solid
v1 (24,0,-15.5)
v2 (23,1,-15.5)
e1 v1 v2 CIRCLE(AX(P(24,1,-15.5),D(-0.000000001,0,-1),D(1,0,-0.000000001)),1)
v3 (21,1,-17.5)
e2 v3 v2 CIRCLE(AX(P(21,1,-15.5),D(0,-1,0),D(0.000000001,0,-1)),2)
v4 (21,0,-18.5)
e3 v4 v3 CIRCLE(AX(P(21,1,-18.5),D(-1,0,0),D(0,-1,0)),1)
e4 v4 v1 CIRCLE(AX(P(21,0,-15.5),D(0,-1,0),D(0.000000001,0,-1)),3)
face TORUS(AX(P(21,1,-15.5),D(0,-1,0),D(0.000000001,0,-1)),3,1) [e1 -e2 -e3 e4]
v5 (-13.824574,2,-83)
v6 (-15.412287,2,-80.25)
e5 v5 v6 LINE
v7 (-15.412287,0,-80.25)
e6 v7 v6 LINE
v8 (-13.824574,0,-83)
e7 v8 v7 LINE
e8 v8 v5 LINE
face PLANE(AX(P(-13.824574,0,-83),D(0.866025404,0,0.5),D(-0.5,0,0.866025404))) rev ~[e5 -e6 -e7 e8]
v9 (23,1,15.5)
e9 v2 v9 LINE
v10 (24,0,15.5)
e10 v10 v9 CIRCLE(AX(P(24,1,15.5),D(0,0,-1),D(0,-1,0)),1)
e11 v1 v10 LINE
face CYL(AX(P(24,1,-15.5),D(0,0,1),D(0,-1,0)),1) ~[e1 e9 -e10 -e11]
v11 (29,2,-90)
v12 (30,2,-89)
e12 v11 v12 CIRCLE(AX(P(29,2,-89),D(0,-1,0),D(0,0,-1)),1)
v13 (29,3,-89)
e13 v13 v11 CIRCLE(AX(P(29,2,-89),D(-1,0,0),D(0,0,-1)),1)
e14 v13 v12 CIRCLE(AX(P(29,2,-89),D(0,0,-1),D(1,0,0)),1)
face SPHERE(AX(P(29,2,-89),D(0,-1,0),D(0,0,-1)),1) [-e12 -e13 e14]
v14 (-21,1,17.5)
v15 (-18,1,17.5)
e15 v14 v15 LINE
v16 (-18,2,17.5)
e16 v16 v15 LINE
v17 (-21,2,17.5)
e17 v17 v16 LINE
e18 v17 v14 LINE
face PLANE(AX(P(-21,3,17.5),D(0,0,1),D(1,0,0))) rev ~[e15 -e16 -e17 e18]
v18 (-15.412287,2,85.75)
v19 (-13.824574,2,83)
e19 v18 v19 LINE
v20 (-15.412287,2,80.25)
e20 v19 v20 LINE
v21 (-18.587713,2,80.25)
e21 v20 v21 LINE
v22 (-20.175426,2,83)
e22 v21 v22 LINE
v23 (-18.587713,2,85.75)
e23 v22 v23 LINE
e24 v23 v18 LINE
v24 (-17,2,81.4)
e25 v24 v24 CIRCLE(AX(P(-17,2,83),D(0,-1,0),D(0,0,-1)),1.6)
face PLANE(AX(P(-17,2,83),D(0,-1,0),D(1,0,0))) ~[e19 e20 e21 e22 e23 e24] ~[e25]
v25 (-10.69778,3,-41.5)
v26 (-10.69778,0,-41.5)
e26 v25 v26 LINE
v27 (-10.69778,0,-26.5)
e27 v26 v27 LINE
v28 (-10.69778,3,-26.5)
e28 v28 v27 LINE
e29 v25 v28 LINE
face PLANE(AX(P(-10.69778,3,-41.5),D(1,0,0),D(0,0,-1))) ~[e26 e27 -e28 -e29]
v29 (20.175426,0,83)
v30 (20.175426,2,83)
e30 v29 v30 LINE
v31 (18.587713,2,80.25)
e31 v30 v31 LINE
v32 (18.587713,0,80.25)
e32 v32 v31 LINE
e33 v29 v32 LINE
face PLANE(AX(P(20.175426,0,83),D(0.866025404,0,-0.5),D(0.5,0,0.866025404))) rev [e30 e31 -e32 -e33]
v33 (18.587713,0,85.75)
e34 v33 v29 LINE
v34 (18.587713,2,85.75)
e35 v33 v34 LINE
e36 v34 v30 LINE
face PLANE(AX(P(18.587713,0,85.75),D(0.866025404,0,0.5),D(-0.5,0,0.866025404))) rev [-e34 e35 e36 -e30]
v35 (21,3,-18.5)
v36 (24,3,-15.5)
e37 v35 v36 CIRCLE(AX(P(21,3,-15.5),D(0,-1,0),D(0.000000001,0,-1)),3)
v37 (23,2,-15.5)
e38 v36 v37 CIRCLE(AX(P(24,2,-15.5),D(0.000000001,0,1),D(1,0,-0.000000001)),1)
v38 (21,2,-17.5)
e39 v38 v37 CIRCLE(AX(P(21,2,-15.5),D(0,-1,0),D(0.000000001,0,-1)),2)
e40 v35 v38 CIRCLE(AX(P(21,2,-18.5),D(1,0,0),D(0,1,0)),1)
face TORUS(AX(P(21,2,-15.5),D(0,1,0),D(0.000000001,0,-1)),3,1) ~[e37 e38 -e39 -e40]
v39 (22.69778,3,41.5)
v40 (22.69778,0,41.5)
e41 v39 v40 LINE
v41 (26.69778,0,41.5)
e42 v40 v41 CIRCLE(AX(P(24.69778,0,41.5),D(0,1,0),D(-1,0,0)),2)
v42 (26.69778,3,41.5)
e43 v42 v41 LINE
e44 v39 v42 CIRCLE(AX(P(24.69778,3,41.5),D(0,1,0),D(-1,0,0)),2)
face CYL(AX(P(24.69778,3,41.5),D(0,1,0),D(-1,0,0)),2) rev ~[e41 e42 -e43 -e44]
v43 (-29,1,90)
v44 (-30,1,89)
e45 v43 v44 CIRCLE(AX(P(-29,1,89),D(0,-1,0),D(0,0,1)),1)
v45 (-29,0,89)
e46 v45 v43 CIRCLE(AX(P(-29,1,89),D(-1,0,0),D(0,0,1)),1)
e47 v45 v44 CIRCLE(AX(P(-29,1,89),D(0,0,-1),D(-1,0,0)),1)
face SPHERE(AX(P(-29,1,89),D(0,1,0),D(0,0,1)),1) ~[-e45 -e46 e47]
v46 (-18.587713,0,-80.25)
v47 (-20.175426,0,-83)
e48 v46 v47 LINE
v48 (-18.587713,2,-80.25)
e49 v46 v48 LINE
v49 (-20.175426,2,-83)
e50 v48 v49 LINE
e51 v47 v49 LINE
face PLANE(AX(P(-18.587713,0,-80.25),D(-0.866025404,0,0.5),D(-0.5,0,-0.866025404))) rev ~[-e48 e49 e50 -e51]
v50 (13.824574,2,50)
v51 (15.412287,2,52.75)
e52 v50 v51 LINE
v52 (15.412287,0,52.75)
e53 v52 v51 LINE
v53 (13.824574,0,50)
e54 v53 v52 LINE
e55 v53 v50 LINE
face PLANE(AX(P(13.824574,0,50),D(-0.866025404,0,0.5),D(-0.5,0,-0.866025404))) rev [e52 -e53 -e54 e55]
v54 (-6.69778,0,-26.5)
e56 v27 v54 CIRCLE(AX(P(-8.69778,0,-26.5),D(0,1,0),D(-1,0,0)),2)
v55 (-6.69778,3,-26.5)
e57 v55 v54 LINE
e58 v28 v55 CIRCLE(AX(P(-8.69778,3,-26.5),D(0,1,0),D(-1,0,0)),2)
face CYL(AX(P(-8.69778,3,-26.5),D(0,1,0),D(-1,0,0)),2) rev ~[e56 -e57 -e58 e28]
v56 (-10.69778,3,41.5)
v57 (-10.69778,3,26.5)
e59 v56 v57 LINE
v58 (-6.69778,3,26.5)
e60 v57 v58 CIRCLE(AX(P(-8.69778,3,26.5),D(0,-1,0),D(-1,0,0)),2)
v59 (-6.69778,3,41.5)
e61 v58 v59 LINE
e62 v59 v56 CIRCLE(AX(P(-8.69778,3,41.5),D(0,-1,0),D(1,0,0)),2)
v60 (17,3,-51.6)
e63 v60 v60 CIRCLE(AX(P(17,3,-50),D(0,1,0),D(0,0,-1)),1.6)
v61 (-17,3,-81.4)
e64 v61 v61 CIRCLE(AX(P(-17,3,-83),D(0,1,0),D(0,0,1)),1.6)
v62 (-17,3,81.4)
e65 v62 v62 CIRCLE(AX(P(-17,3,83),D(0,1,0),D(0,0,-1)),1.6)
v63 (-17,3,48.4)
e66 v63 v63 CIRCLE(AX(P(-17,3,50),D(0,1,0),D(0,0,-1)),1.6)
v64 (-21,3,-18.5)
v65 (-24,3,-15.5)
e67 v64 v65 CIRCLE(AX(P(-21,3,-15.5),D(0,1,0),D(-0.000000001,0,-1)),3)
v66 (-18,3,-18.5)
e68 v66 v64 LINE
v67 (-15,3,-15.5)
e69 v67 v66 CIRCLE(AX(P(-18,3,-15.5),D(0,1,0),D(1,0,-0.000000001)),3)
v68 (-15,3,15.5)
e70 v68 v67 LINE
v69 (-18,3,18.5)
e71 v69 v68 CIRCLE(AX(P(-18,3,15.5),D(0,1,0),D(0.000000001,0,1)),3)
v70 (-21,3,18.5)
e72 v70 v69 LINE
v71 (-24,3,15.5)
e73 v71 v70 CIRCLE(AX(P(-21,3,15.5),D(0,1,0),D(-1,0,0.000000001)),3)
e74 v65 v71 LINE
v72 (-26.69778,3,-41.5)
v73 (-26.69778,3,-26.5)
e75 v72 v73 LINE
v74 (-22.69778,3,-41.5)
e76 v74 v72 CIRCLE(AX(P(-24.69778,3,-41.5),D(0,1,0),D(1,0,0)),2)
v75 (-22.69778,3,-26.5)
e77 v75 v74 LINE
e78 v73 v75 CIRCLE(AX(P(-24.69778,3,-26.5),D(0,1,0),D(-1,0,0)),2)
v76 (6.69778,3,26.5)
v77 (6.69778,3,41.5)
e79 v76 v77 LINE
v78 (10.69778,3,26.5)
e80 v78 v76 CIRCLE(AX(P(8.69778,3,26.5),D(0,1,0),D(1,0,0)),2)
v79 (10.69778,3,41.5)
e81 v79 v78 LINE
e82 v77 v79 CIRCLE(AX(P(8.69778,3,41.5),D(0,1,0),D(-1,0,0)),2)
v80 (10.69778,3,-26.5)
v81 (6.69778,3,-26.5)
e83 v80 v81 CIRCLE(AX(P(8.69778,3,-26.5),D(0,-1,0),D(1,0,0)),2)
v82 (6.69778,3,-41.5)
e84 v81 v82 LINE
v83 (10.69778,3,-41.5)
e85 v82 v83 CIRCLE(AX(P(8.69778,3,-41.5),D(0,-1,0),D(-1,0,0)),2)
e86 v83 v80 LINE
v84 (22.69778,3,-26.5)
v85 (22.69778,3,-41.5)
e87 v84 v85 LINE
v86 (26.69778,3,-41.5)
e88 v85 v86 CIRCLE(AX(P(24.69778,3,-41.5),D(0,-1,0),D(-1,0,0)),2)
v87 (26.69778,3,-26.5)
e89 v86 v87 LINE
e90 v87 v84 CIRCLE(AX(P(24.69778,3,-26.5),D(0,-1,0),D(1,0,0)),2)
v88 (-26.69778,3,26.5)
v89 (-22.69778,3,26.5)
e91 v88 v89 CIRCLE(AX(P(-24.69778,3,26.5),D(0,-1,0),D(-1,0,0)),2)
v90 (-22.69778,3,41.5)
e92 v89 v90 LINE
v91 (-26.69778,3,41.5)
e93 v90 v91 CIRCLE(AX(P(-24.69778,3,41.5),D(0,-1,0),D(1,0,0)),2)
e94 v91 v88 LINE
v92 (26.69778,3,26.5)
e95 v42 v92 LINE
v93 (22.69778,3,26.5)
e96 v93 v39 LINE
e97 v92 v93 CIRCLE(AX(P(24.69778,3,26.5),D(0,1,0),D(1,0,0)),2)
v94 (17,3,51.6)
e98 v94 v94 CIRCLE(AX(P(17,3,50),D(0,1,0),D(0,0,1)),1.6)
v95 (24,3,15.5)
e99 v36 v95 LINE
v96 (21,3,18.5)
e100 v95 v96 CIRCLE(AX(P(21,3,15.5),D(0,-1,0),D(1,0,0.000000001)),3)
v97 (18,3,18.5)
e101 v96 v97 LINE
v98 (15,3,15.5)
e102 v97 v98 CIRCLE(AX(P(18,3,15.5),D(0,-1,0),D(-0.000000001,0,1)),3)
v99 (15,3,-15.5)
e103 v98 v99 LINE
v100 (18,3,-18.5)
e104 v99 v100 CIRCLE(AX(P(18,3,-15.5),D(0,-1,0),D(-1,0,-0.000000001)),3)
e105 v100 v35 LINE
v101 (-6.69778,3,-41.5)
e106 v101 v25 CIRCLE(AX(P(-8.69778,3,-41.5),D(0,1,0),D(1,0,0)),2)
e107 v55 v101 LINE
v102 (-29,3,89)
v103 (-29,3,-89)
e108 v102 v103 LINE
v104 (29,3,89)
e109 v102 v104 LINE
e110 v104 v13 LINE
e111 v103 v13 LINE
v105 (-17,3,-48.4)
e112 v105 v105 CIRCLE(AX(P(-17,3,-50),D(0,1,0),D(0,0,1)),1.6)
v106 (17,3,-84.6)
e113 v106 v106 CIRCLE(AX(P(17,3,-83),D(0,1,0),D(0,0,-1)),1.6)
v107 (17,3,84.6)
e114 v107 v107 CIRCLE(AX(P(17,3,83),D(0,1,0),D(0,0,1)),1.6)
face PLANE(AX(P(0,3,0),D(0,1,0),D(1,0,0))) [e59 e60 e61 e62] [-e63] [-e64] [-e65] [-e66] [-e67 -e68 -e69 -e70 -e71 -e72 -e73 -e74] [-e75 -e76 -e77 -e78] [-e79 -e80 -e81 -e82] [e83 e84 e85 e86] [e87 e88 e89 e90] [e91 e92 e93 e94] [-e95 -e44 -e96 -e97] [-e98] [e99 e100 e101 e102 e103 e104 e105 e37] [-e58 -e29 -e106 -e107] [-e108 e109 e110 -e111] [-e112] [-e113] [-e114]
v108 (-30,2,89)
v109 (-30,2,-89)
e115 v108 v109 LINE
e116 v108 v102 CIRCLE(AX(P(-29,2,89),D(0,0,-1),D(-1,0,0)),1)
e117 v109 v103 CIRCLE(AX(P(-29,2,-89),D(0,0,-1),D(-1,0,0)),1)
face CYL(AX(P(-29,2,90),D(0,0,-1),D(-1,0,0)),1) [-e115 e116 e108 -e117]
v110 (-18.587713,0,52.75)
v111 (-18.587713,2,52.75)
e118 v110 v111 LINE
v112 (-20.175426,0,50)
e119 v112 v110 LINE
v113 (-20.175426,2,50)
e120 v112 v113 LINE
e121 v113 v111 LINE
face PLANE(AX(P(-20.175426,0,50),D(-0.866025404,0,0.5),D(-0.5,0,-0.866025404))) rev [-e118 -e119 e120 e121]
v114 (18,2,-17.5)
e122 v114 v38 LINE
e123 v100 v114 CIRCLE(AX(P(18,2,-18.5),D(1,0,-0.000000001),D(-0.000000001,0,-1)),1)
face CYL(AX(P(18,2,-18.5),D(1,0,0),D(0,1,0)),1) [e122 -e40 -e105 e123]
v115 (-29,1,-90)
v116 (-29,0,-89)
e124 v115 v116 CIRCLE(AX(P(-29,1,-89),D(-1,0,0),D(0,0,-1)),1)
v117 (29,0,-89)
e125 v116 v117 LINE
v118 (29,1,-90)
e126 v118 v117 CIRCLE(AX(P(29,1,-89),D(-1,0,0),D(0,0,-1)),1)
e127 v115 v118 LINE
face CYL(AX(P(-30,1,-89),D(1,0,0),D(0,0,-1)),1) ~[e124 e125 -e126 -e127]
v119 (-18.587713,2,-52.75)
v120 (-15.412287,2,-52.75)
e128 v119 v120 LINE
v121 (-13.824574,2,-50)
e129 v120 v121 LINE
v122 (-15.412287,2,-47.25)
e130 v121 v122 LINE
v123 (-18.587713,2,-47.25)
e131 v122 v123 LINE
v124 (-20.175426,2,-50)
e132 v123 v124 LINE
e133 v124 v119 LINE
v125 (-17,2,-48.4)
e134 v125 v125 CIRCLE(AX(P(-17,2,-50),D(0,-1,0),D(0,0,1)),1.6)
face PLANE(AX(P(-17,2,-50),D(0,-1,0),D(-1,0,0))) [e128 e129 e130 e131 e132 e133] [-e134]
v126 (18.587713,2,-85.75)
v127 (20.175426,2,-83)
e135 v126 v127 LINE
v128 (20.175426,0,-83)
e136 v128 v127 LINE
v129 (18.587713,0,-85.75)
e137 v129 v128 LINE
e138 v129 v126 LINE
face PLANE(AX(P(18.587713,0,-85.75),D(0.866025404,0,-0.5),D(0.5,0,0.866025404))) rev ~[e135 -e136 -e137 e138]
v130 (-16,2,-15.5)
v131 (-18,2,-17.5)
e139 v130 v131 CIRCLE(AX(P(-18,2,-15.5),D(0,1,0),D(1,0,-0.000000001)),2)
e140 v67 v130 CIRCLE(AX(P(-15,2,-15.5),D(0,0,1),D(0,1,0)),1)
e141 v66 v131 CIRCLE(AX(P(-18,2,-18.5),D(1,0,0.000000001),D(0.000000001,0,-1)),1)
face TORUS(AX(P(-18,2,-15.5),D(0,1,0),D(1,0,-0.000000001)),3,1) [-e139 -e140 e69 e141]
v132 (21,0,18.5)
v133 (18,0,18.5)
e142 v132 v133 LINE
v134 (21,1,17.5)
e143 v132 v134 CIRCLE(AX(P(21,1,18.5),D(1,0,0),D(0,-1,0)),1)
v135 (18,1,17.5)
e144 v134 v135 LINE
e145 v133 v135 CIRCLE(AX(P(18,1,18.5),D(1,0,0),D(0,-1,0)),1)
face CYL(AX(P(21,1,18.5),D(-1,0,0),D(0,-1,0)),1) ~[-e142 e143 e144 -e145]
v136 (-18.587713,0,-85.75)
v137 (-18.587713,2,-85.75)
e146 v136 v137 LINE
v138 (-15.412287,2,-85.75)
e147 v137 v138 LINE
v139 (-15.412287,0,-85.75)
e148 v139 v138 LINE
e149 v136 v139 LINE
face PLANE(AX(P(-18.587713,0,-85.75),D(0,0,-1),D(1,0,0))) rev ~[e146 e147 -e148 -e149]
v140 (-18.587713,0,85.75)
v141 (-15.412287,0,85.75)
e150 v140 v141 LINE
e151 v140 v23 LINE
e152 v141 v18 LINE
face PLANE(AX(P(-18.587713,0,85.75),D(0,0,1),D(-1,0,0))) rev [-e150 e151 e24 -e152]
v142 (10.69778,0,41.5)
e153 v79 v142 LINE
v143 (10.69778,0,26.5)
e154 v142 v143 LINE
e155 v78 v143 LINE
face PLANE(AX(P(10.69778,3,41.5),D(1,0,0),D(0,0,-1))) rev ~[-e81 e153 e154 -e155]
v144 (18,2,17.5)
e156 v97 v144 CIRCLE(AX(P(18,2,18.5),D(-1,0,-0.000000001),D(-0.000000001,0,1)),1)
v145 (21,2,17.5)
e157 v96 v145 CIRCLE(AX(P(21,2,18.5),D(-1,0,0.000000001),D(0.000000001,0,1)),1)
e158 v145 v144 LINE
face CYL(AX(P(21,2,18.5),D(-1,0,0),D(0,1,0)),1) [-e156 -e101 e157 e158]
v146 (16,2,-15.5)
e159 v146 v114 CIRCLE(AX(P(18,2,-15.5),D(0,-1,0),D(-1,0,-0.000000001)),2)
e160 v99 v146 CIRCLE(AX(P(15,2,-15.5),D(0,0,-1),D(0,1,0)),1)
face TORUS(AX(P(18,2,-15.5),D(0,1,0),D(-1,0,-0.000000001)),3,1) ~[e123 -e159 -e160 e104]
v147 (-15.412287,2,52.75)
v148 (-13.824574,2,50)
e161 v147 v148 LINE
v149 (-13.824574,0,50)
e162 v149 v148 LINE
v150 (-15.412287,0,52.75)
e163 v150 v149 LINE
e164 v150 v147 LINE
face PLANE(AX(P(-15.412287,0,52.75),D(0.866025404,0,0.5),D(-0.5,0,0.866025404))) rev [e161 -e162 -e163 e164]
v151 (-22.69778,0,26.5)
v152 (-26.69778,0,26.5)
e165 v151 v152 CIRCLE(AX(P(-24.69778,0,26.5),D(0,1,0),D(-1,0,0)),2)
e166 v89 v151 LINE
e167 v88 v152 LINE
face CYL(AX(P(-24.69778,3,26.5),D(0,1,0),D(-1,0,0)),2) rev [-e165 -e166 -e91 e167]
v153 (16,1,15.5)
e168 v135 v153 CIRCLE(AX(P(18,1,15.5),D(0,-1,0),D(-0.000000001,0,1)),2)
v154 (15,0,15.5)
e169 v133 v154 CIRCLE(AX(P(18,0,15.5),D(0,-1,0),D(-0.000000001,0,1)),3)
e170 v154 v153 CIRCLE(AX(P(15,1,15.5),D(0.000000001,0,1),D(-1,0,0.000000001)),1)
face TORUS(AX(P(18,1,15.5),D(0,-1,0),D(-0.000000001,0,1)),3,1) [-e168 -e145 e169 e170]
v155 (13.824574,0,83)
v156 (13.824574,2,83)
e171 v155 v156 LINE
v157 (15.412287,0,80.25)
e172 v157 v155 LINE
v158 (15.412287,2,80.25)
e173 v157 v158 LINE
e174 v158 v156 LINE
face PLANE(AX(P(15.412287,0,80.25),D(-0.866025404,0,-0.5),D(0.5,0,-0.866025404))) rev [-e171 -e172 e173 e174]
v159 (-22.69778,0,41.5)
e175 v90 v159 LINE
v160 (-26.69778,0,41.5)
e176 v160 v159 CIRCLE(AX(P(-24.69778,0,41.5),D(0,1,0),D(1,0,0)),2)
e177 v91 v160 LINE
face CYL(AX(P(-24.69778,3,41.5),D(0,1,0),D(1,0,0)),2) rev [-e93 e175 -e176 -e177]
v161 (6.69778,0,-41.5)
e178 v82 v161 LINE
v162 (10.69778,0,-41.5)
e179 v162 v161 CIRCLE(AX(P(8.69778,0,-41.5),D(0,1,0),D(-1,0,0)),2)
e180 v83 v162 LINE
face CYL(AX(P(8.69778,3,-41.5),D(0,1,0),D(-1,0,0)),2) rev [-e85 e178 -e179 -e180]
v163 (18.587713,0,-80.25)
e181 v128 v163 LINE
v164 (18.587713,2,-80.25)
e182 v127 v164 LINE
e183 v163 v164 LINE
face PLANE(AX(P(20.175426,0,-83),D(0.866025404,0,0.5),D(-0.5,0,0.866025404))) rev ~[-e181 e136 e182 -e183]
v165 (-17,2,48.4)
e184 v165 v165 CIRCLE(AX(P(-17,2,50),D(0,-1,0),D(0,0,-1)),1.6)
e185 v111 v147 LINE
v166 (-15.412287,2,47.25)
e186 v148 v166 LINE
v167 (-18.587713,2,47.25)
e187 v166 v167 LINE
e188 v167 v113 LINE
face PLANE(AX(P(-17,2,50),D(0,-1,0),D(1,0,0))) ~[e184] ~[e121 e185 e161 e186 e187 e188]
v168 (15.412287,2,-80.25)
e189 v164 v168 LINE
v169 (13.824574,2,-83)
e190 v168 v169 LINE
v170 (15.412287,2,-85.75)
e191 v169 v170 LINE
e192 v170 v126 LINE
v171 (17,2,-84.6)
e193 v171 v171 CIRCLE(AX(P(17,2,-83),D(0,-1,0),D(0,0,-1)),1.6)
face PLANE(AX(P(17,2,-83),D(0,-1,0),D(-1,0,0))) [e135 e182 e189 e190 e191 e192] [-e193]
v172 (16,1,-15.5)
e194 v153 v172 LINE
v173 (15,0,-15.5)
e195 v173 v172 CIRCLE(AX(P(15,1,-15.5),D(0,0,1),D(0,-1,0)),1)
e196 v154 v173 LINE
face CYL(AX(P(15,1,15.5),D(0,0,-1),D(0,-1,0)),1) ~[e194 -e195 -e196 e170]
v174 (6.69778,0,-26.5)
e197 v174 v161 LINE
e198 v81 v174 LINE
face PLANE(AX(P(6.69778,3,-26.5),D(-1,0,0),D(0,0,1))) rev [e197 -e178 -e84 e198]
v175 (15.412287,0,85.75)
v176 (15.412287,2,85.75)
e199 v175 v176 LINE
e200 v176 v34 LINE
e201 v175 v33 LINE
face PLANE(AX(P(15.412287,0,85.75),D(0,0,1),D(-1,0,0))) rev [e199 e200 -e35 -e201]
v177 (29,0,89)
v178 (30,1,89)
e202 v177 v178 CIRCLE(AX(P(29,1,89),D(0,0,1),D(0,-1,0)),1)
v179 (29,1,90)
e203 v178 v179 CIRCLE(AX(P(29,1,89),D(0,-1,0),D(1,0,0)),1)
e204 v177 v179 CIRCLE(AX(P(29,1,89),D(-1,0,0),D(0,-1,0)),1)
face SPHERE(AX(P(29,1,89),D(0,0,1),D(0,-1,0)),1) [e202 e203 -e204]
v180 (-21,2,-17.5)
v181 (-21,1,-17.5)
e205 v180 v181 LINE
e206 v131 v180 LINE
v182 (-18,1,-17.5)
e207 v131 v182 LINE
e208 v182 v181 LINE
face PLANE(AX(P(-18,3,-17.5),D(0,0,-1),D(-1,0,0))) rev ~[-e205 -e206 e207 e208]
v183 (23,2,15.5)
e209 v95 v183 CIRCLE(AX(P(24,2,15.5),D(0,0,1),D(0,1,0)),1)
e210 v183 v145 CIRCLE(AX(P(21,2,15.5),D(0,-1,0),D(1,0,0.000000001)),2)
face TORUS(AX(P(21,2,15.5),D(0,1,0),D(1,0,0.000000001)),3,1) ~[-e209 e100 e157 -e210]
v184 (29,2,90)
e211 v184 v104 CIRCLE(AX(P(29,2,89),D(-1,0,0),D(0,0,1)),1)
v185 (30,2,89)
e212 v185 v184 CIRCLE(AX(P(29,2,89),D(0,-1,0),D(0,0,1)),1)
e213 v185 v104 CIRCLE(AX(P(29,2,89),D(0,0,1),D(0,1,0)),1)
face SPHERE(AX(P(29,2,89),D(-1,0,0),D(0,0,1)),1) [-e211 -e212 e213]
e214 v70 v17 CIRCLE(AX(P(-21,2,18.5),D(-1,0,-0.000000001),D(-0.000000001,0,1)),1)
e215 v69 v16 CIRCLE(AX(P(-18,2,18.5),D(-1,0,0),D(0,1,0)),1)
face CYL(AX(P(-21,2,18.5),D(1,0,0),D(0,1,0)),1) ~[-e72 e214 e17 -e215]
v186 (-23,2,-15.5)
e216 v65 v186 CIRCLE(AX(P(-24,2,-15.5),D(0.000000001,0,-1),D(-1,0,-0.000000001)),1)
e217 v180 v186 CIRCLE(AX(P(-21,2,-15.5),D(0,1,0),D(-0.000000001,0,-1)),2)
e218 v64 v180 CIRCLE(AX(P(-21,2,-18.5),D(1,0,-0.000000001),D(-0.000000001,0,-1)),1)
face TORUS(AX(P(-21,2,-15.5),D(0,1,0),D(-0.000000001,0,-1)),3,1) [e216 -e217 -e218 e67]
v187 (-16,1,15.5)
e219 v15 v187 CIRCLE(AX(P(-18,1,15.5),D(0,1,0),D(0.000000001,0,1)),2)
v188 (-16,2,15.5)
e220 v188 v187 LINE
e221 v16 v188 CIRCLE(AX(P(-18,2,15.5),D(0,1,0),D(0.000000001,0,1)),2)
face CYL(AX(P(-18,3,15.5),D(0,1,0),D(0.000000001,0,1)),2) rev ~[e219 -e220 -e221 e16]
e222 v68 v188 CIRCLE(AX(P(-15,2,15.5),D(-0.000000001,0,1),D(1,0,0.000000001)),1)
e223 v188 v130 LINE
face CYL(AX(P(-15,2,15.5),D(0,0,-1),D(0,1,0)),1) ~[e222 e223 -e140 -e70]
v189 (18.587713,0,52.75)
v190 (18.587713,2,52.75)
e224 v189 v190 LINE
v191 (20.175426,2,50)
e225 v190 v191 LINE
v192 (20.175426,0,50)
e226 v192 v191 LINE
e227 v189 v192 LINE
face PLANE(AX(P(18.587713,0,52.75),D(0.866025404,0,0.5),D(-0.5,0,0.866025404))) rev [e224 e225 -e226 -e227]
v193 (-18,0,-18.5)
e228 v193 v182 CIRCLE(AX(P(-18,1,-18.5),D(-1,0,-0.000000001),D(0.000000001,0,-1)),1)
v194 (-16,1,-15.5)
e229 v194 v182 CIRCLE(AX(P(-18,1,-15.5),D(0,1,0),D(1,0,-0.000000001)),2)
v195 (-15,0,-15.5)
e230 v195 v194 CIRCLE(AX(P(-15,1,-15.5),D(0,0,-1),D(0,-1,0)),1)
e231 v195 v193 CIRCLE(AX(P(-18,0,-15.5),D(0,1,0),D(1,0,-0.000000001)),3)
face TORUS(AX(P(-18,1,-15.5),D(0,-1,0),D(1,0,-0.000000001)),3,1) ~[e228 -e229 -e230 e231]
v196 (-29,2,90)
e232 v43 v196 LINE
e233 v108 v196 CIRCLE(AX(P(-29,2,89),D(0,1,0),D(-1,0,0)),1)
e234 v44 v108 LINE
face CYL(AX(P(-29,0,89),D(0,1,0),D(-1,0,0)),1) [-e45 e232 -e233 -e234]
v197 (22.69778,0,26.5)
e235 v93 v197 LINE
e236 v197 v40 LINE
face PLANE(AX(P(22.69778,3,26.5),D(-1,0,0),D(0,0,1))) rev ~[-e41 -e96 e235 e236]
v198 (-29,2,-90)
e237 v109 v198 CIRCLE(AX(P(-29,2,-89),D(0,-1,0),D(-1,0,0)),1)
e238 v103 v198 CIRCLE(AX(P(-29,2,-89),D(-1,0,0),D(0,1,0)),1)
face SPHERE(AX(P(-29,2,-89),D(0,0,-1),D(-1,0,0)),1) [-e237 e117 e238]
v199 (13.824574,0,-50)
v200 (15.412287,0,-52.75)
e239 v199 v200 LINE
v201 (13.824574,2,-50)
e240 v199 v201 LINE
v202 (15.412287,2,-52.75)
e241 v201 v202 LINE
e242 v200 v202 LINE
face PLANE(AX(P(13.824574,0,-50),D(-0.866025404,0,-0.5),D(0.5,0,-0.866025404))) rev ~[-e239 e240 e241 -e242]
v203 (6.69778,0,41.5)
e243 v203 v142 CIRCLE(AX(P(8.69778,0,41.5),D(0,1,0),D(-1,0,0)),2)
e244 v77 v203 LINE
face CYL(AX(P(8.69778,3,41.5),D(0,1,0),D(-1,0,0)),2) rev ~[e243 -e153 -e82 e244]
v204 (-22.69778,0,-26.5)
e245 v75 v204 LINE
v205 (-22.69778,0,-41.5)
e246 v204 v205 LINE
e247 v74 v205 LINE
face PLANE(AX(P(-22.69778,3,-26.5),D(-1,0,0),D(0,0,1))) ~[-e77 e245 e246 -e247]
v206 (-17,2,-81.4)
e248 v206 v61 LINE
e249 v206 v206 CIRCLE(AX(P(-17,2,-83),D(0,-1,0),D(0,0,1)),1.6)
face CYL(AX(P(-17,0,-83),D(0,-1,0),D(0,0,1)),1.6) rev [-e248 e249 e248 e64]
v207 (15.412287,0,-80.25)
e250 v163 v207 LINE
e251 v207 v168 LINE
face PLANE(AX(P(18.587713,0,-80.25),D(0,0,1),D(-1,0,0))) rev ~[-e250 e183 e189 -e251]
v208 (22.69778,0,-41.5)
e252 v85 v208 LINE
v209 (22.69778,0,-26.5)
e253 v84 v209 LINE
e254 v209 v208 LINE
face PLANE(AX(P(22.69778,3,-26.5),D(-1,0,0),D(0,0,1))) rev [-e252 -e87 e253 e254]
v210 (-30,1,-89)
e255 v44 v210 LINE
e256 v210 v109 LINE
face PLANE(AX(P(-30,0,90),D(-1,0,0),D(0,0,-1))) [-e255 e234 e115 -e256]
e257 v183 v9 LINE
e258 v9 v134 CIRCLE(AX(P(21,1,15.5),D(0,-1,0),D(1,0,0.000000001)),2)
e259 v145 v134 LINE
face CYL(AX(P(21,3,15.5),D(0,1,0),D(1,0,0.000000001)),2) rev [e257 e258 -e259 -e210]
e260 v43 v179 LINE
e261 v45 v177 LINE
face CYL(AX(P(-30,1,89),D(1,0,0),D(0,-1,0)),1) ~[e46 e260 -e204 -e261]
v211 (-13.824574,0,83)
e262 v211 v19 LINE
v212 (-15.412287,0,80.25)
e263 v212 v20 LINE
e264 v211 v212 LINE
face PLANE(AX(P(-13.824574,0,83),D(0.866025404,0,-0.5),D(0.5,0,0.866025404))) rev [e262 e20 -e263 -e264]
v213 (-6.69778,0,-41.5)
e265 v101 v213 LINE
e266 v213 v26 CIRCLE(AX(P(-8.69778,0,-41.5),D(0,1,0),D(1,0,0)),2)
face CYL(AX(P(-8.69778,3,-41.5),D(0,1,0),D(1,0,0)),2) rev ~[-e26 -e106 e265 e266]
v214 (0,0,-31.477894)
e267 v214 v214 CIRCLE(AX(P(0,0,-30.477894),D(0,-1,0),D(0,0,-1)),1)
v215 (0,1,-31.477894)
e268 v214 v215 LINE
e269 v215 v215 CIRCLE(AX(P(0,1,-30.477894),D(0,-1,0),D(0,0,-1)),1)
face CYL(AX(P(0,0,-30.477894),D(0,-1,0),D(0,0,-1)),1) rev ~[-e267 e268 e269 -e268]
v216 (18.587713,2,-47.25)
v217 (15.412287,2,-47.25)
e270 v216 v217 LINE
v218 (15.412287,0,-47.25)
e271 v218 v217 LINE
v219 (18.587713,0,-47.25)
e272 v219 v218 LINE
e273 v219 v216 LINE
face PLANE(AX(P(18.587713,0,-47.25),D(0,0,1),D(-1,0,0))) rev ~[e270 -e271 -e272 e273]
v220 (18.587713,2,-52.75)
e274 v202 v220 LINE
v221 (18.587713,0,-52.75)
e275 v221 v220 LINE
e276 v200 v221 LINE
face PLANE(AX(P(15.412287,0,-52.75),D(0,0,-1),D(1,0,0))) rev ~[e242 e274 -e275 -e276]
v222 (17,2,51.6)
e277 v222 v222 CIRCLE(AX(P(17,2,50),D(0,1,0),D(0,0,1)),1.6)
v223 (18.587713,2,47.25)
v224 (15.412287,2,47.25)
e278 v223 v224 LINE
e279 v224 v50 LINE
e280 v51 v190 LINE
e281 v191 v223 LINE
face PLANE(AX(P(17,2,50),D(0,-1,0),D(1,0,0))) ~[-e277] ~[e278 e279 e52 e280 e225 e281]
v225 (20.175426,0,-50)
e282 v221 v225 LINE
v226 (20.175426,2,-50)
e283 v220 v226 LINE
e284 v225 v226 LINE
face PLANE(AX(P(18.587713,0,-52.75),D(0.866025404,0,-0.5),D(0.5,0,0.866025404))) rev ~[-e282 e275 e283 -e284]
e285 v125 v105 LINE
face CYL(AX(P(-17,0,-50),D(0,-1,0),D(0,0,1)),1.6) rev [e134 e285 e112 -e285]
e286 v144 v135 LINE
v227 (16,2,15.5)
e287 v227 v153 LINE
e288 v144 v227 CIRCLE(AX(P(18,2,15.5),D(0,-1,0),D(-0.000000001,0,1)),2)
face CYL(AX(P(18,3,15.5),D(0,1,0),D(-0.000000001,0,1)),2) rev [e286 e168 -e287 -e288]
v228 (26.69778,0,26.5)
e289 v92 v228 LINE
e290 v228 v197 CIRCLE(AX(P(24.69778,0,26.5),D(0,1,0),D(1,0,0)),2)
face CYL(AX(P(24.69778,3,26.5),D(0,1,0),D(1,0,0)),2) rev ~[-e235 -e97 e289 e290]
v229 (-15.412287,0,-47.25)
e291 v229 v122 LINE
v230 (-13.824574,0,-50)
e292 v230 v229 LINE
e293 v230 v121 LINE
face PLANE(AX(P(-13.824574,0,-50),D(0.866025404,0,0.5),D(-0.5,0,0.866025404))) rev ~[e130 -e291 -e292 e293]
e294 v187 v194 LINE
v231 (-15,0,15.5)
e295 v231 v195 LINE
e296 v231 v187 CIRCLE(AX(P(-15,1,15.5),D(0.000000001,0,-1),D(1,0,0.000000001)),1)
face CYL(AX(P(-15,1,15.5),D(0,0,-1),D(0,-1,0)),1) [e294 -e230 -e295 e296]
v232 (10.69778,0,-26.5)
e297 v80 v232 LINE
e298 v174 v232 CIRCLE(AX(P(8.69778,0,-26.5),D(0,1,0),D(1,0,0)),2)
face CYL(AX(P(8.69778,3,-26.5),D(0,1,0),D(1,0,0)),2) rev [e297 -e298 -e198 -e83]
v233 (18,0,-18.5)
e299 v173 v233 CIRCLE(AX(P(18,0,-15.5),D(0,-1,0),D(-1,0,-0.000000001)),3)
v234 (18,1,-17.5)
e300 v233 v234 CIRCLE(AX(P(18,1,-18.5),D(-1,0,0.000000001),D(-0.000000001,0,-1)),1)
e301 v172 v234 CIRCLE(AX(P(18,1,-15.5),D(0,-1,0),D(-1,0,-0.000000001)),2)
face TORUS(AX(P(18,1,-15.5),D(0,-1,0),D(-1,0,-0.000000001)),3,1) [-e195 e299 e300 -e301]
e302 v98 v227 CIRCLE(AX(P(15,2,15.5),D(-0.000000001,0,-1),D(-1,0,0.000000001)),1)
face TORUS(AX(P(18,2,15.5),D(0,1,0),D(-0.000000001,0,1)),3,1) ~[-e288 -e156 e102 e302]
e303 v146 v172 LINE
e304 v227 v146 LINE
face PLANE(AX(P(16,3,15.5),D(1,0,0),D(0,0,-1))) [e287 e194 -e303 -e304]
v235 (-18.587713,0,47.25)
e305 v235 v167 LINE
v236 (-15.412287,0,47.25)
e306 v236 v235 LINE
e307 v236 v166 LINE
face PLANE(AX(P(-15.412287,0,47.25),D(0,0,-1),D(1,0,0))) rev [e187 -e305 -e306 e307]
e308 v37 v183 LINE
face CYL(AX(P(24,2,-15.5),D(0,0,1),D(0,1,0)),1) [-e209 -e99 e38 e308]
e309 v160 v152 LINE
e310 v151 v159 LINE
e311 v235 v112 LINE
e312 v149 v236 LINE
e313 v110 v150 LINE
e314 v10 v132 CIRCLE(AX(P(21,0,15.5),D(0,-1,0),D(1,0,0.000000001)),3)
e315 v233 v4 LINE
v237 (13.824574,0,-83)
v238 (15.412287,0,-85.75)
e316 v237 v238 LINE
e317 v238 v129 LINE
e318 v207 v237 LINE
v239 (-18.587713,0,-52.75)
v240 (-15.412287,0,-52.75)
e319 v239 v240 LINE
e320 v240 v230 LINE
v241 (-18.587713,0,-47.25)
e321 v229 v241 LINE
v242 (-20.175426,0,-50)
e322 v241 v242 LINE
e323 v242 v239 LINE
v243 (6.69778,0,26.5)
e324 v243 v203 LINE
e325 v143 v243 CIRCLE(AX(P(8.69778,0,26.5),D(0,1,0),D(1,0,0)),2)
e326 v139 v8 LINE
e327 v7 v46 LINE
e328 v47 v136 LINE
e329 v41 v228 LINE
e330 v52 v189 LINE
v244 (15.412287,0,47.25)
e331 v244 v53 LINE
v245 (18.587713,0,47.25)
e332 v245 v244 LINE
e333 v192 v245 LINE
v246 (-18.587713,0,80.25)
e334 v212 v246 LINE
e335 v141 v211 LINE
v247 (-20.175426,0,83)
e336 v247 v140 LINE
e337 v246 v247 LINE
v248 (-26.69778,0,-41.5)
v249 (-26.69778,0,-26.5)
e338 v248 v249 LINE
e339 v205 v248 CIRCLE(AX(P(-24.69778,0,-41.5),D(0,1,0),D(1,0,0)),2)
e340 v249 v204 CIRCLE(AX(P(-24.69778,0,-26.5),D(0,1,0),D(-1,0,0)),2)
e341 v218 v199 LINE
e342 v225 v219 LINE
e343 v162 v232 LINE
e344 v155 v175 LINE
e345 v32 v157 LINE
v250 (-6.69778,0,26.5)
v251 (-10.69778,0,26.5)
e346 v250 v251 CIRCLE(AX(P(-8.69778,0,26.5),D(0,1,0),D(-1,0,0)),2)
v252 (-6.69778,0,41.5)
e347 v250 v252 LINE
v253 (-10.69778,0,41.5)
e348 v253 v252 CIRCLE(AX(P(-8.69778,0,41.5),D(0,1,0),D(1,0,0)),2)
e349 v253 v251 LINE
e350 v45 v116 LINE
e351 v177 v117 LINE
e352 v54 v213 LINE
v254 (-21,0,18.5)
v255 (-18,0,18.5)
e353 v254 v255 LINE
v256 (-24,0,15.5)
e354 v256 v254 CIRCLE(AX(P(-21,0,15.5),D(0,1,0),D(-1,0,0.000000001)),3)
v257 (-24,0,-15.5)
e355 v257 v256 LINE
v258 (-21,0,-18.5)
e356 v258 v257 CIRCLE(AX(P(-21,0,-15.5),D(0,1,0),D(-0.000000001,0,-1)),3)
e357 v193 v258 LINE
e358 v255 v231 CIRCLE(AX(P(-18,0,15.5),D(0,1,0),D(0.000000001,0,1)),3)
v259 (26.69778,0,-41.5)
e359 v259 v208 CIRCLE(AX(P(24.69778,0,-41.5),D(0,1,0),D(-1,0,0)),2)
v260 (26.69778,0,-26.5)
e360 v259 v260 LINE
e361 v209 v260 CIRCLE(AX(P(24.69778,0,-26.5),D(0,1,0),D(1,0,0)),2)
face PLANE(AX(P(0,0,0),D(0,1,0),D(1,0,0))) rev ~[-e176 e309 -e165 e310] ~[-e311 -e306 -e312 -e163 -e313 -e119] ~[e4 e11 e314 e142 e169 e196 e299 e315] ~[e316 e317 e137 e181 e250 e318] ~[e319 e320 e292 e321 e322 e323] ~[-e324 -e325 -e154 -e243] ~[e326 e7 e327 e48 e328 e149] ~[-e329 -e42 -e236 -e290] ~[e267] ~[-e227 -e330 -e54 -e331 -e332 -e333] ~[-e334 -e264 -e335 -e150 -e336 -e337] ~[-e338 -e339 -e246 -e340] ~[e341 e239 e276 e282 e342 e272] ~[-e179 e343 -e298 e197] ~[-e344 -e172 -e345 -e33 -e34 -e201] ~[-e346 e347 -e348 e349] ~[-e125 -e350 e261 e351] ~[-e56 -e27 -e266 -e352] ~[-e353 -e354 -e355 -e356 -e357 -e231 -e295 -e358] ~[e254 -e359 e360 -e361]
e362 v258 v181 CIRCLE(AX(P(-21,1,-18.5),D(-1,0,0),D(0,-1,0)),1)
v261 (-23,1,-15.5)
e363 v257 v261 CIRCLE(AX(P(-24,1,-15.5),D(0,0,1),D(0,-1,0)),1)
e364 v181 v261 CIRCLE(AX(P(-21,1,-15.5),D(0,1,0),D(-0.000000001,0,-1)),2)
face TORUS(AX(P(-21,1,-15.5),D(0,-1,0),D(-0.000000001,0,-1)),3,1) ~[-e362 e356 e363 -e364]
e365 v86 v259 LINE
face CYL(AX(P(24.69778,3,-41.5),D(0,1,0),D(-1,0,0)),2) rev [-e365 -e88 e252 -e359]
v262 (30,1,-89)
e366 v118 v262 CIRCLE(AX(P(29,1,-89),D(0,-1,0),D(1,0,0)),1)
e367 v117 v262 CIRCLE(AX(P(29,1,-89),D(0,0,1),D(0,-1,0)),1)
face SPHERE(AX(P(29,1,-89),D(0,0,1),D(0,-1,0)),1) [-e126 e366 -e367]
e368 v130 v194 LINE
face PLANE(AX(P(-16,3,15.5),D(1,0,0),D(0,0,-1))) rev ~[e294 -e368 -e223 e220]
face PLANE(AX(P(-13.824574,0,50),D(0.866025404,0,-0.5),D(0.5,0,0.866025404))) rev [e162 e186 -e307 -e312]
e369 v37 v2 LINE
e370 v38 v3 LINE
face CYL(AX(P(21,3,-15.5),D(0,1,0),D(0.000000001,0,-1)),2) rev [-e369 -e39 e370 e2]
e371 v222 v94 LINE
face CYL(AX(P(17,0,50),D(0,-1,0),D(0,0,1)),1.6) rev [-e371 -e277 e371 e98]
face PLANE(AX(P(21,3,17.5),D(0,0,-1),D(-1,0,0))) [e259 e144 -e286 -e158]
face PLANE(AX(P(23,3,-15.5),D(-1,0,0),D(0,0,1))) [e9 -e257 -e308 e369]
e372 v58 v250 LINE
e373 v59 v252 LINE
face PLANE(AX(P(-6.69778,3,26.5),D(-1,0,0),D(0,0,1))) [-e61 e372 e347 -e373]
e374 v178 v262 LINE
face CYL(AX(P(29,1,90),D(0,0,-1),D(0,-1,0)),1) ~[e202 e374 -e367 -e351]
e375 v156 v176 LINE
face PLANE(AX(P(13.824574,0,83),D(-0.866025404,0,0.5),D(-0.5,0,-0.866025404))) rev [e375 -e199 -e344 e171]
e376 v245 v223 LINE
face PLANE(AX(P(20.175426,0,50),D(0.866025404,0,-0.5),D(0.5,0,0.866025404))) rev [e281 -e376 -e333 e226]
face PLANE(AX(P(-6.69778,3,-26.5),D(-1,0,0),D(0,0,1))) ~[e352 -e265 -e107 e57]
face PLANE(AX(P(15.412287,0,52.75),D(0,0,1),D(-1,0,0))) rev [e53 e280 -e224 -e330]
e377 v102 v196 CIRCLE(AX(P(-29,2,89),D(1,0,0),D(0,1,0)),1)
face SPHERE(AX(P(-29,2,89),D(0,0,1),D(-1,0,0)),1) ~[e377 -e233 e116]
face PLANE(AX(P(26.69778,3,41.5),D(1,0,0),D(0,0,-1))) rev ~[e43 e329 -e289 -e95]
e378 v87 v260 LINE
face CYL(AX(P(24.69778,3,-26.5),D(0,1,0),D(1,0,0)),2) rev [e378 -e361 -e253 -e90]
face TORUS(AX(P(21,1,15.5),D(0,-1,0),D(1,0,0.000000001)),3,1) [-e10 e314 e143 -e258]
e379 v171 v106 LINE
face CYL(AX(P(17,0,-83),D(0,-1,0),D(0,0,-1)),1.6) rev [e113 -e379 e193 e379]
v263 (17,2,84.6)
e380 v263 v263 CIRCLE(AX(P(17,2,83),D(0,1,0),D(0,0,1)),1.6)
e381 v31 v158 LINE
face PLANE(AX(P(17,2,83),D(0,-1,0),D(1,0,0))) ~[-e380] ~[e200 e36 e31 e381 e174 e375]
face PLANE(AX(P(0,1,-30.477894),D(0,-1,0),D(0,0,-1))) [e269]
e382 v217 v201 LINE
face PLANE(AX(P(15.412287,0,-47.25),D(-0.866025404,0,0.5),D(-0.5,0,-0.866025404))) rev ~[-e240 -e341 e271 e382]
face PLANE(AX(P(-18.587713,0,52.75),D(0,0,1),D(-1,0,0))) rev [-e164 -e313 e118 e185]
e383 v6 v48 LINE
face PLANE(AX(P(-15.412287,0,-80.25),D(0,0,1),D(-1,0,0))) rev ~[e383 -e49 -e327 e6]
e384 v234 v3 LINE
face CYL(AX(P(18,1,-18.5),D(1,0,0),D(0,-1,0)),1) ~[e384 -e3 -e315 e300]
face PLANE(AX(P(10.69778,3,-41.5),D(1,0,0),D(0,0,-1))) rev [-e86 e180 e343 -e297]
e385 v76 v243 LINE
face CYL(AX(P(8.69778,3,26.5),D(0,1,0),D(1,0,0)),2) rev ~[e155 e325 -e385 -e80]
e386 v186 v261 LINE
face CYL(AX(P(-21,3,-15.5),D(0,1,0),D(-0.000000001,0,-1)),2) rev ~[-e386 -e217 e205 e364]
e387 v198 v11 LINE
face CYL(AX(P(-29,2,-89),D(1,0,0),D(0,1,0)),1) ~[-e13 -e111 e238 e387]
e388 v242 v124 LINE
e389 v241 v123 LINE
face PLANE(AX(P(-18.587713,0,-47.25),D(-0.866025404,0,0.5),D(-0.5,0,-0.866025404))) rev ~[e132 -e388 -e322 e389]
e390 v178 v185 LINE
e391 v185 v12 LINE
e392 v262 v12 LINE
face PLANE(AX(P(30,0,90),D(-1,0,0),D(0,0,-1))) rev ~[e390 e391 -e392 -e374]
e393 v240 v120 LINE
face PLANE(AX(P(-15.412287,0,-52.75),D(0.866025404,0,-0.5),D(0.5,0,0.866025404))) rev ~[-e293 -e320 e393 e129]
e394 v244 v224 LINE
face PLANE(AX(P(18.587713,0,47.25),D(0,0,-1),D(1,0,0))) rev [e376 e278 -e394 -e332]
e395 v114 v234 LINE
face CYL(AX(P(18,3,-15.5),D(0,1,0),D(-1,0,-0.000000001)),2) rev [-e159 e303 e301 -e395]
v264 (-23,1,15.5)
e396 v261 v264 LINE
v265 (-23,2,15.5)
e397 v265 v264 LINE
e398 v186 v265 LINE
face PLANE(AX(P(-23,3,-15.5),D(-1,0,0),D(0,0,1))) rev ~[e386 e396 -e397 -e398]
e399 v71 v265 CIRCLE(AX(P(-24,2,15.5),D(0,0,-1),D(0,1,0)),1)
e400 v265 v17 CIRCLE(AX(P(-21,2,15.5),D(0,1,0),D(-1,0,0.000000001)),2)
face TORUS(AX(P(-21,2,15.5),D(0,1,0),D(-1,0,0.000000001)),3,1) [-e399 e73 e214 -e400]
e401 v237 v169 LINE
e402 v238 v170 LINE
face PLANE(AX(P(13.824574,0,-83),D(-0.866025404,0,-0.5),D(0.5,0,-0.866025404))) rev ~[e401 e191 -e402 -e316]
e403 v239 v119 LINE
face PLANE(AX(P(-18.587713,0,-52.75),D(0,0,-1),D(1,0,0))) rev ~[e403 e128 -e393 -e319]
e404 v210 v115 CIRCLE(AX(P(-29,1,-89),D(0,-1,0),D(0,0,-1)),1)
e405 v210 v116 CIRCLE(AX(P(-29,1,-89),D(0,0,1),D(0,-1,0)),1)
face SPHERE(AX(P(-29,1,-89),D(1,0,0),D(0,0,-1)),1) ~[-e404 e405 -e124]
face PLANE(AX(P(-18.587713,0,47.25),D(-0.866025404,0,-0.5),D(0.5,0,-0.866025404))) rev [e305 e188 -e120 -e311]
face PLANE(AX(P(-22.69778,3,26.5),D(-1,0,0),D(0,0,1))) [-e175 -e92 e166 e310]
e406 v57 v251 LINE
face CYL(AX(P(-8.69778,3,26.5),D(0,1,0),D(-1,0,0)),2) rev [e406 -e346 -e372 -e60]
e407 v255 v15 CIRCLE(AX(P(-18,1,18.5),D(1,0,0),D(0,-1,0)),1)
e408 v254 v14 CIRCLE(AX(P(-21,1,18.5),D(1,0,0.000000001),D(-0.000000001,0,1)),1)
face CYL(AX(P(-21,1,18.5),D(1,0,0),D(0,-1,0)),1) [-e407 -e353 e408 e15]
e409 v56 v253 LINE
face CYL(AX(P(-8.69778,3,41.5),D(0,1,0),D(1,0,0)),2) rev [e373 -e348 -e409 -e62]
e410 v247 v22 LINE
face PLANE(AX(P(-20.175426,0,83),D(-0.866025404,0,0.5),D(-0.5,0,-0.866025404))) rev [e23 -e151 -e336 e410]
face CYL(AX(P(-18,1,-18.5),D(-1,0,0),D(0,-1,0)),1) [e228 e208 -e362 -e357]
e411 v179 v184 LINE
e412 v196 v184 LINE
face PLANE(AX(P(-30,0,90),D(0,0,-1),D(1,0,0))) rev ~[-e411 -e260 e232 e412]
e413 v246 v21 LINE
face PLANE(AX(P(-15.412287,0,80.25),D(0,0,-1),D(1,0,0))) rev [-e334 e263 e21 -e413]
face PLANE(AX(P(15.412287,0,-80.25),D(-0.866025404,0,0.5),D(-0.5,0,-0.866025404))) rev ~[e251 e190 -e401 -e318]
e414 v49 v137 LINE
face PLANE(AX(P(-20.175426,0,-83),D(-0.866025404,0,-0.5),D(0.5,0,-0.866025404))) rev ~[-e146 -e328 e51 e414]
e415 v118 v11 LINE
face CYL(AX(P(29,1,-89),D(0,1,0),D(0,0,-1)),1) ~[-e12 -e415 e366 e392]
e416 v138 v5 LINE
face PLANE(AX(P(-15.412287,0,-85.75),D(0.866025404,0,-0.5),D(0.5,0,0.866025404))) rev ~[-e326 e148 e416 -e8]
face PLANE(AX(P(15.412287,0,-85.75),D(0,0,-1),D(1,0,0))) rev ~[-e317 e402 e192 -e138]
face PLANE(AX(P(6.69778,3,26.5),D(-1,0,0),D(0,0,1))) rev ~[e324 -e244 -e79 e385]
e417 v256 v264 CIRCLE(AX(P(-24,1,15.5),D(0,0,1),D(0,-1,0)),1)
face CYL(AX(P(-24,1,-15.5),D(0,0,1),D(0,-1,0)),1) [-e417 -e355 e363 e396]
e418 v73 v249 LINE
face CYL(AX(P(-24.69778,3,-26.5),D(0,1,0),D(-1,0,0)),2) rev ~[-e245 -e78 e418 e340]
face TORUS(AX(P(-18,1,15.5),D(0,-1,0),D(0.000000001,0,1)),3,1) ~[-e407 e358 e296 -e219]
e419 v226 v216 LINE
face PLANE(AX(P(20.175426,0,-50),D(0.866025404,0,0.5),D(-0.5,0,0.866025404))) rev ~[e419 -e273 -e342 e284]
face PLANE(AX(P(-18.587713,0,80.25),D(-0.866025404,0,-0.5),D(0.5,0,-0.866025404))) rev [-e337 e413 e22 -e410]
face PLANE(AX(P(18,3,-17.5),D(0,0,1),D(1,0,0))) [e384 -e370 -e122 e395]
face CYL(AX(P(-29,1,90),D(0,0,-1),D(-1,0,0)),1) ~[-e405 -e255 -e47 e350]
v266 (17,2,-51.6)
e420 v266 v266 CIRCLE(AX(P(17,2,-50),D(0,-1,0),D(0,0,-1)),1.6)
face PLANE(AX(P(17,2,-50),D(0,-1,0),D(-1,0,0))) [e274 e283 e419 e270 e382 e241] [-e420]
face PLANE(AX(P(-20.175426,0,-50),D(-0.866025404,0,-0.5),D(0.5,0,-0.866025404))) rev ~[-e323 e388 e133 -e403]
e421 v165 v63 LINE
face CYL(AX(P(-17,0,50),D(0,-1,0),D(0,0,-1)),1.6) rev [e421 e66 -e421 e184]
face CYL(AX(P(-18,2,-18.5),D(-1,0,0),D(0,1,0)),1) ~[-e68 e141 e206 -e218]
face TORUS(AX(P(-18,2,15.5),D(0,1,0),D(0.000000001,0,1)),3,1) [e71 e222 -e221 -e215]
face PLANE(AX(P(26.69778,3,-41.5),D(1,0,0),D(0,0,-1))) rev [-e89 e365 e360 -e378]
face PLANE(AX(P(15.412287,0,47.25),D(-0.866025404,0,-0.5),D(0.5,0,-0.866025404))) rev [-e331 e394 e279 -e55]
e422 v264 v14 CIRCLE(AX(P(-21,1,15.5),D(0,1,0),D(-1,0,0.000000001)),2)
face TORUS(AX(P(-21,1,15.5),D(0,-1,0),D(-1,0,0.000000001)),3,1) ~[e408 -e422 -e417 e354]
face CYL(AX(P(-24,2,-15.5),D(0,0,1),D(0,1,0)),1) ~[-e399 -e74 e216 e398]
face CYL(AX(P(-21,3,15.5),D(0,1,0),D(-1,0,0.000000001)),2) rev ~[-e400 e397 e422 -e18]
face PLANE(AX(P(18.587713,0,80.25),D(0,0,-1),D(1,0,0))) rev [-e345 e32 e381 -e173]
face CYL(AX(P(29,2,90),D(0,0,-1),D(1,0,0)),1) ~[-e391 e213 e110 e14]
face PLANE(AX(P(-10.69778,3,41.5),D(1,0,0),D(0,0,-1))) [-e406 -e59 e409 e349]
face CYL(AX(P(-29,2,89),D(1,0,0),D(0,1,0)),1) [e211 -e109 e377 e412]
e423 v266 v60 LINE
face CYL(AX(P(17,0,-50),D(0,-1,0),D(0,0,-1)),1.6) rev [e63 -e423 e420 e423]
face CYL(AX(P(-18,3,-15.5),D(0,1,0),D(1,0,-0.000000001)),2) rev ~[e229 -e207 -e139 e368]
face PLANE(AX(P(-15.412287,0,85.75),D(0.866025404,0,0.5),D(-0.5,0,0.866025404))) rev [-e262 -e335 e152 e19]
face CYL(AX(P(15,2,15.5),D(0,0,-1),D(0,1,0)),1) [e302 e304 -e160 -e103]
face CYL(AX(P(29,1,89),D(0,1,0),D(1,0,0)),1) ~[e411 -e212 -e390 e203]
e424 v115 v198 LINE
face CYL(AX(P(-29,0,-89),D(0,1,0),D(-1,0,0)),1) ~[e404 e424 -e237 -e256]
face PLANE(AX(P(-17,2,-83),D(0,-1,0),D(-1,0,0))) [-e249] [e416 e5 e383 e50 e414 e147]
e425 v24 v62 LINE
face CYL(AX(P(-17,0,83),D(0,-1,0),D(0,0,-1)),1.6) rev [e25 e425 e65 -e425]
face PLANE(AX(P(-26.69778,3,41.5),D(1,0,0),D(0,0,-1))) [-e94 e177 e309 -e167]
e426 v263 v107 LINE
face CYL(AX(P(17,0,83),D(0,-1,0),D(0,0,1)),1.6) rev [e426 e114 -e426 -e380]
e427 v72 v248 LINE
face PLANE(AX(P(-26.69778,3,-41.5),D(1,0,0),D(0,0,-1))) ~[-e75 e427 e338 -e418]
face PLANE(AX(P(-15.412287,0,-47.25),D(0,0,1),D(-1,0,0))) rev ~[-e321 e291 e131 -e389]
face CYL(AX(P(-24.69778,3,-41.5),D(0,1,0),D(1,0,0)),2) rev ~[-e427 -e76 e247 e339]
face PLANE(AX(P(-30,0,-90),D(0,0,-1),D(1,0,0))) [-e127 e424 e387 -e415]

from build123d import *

# Parameters (mm, degrees)
SKETCH1_W           = 60
SKETCH1_H           = 180
SKETCH1_R           = 1.6
BOSS_EXTRUDE1_DEPTH = 3
CUT_EXTRUDE1_DEPTH  = 72
FILLET2_R           = 1
SKETCH3_R           = 1
CUT_EXTRUDE2_DEPTH  = 1
SKETCH4_R           = 1.6
CUT_EXTRUDE3_DEPTH  = 2
FILLET3_R           = 1
FILLET4_R           = 1
CUT_EXTRUDE4_DEPTH  = 10


with BuildPart() as part:
    # Sketch1 → Boss-Extrude1 (new body)
    with BuildSketch(Plane(origin=(0, 0, 0), x_dir=(1, 0, 0), z_dir=(0, 1, 0))):
        Rectangle(SKETCH1_W, SKETCH1_H)
        with Locations(Location((-17, 83, 0), (0, 0, 270))):
            Circle(SKETCH1_R, mode=Mode.SUBTRACT)
        with Locations(Location((-17, 50, 0), (0, 0, 270))):
            Circle(SKETCH1_R, mode=Mode.SUBTRACT)
        with Locations(Location((17, 50, 0), (0, 0, 90))):
            Circle(SKETCH1_R, mode=Mode.SUBTRACT)
        with Locations(Location((17, 83, 0), (0, 0, 90))):
            Circle(SKETCH1_R, mode=Mode.SUBTRACT)
        with Locations(Location((-17, -50, 0), (0, 0, 90))):
            Circle(SKETCH1_R, mode=Mode.SUBTRACT)
        with Locations(Location((17, -50, 0), (0, 0, 270))):
            Circle(SKETCH1_R, mode=Mode.SUBTRACT)
        with Locations(Location((17, -83, 0), (0, 0, 270))):
            Circle(SKETCH1_R, mode=Mode.SUBTRACT)
        with Locations(Location((-17, -83, 0), (0, 0, 90))):
            Circle(SKETCH1_R, mode=Mode.SUBTRACT)
    extrude(amount=BOSS_EXTRUDE1_DEPTH)

    # Sketch2 → Cut-Extrude1 (cut)
    with BuildSketch(Plane(origin=(0, 3, 0), x_dir=(1, 0, 0), z_dir=(0, 1, 0))):
        with BuildLine():
            Line((21, -17.5), (18, -17.5))
            ThreePointArc((18, -17.5), (16.585786438, -16.914213562), (16, -15.5))
            Line((16, -15.5), (16, 15.5))
            ThreePointArc((16, 15.5), (16.585786438, 16.914213562), (18, 17.5))
            Line((18, 17.5), (21, 17.5))
            ThreePointArc((21, 17.5), (22.414213562, 16.914213562), (23, 15.5))
            Line((23, 15.5), (23, -15.5))
            ThreePointArc((23, -15.5), (22.414213562, -16.914213562), (21, -17.5))
        make_face()
        with BuildLine():
            Line((-16, -15.5), (-16, 15.5))
            ThreePointArc((-16, 15.5), (-16.585786438, 16.914213562), (-18, 17.5))
            Line((-18, 17.5), (-21, 17.5))
            ThreePointArc((-21, 17.5), (-22.414213562, 16.914213562), (-23, 15.5))
            Line((-23, 15.5), (-23, -15.5))
            ThreePointArc((-23, -15.5), (-22.414213562, -16.914213562), (-21, -17.5))
            Line((-21, -17.5), (-18, -17.5))
            ThreePointArc((-18, -17.5), (-16.585786438, -16.914213562), (-16, -15.5))
        make_face()
    extrude(amount=-CUT_EXTRUDE1_DEPTH, mode=Mode.SUBTRACT)

    # Fillet2
    fillet2_edges = [part.edges().sort_by_distance(p)[0] for p in [
        (-30, 3, 0),
        (30, 0, 0),
    ]]
    fillet(fillet2_edges, radius=FILLET2_R)

    # Sketch3 → Cut-Extrude2 (cut)
    with BuildSketch(Plane(origin=(0, 0, 0), x_dir=(-1, 0, 0), z_dir=(0, -1, 0))):
        with Locations(Location((0, 30.47789414, 0), (0, 0, 90))):
            Circle(SKETCH3_R)
    extrude(amount=-CUT_EXTRUDE2_DEPTH, mode=Mode.SUBTRACT)

    # Sketch4 → Cut-Extrude3 (cut)
    # profile 1 of 4: a face of its own
    with BuildSketch(Plane(origin=(0, 0, 0), x_dir=(-1, 0, 0), z_dir=(0, -1, 0))):
        Polygon((15.41228676, 80.25), (18.58771324, 80.25), (20.175426481, 83), (18.58771324, 85.75), (15.41228676, 85.75), (13.824573519, 83), align=None)
        with Locations(Location((17, 83, 0), (0, 0, 90))):
            Circle(SKETCH4_R, mode=Mode.SUBTRACT)
    # profile 2 of 4: a face of its own
    with BuildSketch(Plane(origin=(0, 0, 0), x_dir=(-1, 0, 0), z_dir=(0, -1, 0))):
        Polygon((15.41228676, 47.25), (18.58771324, 47.25), (20.175426481, 50), (18.58771324, 52.75), (15.41228676, 52.75), (13.824573519, 50), align=None)
        with Locations(Location((17, 50, 0), (0, 0, 90))):
            Circle(SKETCH4_R, mode=Mode.SUBTRACT)
    # profile 3 of 4: a face of its own
    with BuildSketch(Plane(origin=(0, 0, 0), x_dir=(-1, 0, 0), z_dir=(0, -1, 0))):
        Polygon((-18.58771324, 47.25), (-15.41228676, 47.25), (-13.824573519, 50), (-15.41228676, 52.75), (-18.58771324, 52.75), (-20.175426481, 50), align=None)
        with Locations(Location((-17, 50, 0), (0, 0, 90))):
            Circle(SKETCH4_R, mode=Mode.SUBTRACT)
    # profile 4 of 4: a face of its own
    with BuildSketch(Plane(origin=(0, 0, 0), x_dir=(-1, 0, 0), z_dir=(0, -1, 0))):
        Polygon((-18.58771324, 80.25), (-15.41228676, 80.25), (-13.824573519, 83), (-15.41228676, 85.75), (-18.58771324, 85.75), (-20.175426481, 83), align=None)
        with Locations(Location((-17, 83, 0), (0, 0, 90))):
            Circle(SKETCH4_R, mode=Mode.SUBTRACT)
    cut_extrude3 = extrude(amount=-CUT_EXTRUDE3_DEPTH, mode=Mode.SUBTRACT)

    # Mirror1: Cut-Extrude3 across plane
    add(cut_extrude3.mirror(Plane.XY), mode=Mode.SUBTRACT)

    # Fillet3
    fillet3_edges = [part.edges().sort_by_distance(p)[0] for p in [
        (-0.5, 0, -90),
        (-30, 1, -90),
        (-29.707106781, 2.707106781, -90),
        (29.707106781, 0.292893219, -90),
        (0.5, 3, 90),
        (-30, 1, 90),
        (-29.707106781, 2.707106781, 90),
        (29.707106781, 0.292893219, 90),
        (30, 3, 0),
        (-0.5, 0, 90),
        (-30, 0, 0),
        (0.5, 3, -90),
        (30, 2, 90),
        (30, 2, -90),
    ]]
    fillet(fillet3_edges, radius=FILLET3_R)

    # Fillet4
    fillet4_edges = [part.edges().sort_by_distance(p)[0] for p in [
        (-23, 0, 0),
        (-22.414213562, 0, 16.914213562),
        (-19.5, 0, 17.5),
        (-16.585786438, 0, 16.914213562),
        (-16, 0, 0),
        (-16.585786438, 0, -16.914213562),
        (-19.5, 0, -17.5),
        (-22.414213562, 0, -16.914213562),
        (19.5, 0, 17.5),
        (22.414213562, 0, 16.914213562),
        (23, 0, 0),
        (22.414213562, 0, -16.914213562),
        (19.5, 0, -17.5),
        (16.585786438, 0, -16.914213562),
        (16, 0, 0),
        (16.585786438, 0, 16.914213562),
        (16.585786438, 3, 16.914213562),
        (19.5, 3, 17.5),
        (22.414213562, 3, 16.914213562),
        (23, 3, 0),
        (22.414213562, 3, -16.914213562),
        (19.5, 3, -17.5),
        (16.585786438, 3, -16.914213562),
        (16, 3, 0),
        (-22.414213562, 3, -16.914213562),
        (-23, 3, 0),
        (-22.414213562, 3, 16.914213562),
        (-19.5, 3, 17.5),
        (-16.585786438, 3, 16.914213562),
        (-16, 3, 0),
        (-16.585786438, 3, -16.914213562),
        (-19.5, 3, -17.5),
    ]]
    fillet(fillet4_edges, radius=FILLET4_R)

    # Sketch5 → Cut-Extrude4 (cut)
    with BuildSketch(Plane(origin=(0, 3, 0), x_dir=(1, 0, 0), z_dir=(0, 1, 0))):
        with BuildLine():
            Line((-22.697780221, -26.5), (-22.697780221, -41.5))
            ThreePointArc((-22.697780221, -41.5), (-24.697780221, -43.5), (-26.697780221, -41.5))
            Line((-26.697780221, -41.5), (-26.697780221, -26.5))
            ThreePointArc((-26.697780221, -26.5), (-24.697780221, -24.5), (-22.697780221, -26.5))
        make_face()
        with BuildLine():
            Line((-6.697780221, -26.5), (-6.697780221, -41.5))
            ThreePointArc((-6.697780221, -41.5), (-8.697780221, -43.5), (-10.697780221, -41.5))
            Line((-10.697780221, -41.5), (-10.697780221, -26.5))
            ThreePointArc((-10.697780221, -26.5), (-8.697780221, -24.5), (-6.697780221, -26.5))
        make_face()
        with BuildLine():
            Line((22.697780221, -26.5), (22.697780221, -41.5))
            ThreePointArc((22.697780221, -41.5), (24.697780221, -43.5), (26.697780221, -41.5))
            Line((26.697780221, -41.5), (26.697780221, -26.5))
            ThreePointArc((26.697780221, -26.5), (24.697780221, -24.5), (22.697780221, -26.5))
        make_face()
        with BuildLine():
            Line((6.697780221, -26.5), (6.697780221, -41.5))
            ThreePointArc((6.697780221, -41.5), (8.697780221, -43.5), (10.697780221, -41.5))
            Line((10.697780221, -41.5), (10.697780221, -26.5))
            ThreePointArc((10.697780221, -26.5), (8.697780221, -24.5), (6.697780221, -26.5))
        make_face()
    cut_extrude4 = extrude(amount=-CUT_EXTRUDE4_DEPTH, mode=Mode.SUBTRACT)

    # Mirror2: Cut-Extrude4 across plane
    add(cut_extrude4.mirror(Plane.XY), mode=Mode.SUBTRACT)


solid = part.part
